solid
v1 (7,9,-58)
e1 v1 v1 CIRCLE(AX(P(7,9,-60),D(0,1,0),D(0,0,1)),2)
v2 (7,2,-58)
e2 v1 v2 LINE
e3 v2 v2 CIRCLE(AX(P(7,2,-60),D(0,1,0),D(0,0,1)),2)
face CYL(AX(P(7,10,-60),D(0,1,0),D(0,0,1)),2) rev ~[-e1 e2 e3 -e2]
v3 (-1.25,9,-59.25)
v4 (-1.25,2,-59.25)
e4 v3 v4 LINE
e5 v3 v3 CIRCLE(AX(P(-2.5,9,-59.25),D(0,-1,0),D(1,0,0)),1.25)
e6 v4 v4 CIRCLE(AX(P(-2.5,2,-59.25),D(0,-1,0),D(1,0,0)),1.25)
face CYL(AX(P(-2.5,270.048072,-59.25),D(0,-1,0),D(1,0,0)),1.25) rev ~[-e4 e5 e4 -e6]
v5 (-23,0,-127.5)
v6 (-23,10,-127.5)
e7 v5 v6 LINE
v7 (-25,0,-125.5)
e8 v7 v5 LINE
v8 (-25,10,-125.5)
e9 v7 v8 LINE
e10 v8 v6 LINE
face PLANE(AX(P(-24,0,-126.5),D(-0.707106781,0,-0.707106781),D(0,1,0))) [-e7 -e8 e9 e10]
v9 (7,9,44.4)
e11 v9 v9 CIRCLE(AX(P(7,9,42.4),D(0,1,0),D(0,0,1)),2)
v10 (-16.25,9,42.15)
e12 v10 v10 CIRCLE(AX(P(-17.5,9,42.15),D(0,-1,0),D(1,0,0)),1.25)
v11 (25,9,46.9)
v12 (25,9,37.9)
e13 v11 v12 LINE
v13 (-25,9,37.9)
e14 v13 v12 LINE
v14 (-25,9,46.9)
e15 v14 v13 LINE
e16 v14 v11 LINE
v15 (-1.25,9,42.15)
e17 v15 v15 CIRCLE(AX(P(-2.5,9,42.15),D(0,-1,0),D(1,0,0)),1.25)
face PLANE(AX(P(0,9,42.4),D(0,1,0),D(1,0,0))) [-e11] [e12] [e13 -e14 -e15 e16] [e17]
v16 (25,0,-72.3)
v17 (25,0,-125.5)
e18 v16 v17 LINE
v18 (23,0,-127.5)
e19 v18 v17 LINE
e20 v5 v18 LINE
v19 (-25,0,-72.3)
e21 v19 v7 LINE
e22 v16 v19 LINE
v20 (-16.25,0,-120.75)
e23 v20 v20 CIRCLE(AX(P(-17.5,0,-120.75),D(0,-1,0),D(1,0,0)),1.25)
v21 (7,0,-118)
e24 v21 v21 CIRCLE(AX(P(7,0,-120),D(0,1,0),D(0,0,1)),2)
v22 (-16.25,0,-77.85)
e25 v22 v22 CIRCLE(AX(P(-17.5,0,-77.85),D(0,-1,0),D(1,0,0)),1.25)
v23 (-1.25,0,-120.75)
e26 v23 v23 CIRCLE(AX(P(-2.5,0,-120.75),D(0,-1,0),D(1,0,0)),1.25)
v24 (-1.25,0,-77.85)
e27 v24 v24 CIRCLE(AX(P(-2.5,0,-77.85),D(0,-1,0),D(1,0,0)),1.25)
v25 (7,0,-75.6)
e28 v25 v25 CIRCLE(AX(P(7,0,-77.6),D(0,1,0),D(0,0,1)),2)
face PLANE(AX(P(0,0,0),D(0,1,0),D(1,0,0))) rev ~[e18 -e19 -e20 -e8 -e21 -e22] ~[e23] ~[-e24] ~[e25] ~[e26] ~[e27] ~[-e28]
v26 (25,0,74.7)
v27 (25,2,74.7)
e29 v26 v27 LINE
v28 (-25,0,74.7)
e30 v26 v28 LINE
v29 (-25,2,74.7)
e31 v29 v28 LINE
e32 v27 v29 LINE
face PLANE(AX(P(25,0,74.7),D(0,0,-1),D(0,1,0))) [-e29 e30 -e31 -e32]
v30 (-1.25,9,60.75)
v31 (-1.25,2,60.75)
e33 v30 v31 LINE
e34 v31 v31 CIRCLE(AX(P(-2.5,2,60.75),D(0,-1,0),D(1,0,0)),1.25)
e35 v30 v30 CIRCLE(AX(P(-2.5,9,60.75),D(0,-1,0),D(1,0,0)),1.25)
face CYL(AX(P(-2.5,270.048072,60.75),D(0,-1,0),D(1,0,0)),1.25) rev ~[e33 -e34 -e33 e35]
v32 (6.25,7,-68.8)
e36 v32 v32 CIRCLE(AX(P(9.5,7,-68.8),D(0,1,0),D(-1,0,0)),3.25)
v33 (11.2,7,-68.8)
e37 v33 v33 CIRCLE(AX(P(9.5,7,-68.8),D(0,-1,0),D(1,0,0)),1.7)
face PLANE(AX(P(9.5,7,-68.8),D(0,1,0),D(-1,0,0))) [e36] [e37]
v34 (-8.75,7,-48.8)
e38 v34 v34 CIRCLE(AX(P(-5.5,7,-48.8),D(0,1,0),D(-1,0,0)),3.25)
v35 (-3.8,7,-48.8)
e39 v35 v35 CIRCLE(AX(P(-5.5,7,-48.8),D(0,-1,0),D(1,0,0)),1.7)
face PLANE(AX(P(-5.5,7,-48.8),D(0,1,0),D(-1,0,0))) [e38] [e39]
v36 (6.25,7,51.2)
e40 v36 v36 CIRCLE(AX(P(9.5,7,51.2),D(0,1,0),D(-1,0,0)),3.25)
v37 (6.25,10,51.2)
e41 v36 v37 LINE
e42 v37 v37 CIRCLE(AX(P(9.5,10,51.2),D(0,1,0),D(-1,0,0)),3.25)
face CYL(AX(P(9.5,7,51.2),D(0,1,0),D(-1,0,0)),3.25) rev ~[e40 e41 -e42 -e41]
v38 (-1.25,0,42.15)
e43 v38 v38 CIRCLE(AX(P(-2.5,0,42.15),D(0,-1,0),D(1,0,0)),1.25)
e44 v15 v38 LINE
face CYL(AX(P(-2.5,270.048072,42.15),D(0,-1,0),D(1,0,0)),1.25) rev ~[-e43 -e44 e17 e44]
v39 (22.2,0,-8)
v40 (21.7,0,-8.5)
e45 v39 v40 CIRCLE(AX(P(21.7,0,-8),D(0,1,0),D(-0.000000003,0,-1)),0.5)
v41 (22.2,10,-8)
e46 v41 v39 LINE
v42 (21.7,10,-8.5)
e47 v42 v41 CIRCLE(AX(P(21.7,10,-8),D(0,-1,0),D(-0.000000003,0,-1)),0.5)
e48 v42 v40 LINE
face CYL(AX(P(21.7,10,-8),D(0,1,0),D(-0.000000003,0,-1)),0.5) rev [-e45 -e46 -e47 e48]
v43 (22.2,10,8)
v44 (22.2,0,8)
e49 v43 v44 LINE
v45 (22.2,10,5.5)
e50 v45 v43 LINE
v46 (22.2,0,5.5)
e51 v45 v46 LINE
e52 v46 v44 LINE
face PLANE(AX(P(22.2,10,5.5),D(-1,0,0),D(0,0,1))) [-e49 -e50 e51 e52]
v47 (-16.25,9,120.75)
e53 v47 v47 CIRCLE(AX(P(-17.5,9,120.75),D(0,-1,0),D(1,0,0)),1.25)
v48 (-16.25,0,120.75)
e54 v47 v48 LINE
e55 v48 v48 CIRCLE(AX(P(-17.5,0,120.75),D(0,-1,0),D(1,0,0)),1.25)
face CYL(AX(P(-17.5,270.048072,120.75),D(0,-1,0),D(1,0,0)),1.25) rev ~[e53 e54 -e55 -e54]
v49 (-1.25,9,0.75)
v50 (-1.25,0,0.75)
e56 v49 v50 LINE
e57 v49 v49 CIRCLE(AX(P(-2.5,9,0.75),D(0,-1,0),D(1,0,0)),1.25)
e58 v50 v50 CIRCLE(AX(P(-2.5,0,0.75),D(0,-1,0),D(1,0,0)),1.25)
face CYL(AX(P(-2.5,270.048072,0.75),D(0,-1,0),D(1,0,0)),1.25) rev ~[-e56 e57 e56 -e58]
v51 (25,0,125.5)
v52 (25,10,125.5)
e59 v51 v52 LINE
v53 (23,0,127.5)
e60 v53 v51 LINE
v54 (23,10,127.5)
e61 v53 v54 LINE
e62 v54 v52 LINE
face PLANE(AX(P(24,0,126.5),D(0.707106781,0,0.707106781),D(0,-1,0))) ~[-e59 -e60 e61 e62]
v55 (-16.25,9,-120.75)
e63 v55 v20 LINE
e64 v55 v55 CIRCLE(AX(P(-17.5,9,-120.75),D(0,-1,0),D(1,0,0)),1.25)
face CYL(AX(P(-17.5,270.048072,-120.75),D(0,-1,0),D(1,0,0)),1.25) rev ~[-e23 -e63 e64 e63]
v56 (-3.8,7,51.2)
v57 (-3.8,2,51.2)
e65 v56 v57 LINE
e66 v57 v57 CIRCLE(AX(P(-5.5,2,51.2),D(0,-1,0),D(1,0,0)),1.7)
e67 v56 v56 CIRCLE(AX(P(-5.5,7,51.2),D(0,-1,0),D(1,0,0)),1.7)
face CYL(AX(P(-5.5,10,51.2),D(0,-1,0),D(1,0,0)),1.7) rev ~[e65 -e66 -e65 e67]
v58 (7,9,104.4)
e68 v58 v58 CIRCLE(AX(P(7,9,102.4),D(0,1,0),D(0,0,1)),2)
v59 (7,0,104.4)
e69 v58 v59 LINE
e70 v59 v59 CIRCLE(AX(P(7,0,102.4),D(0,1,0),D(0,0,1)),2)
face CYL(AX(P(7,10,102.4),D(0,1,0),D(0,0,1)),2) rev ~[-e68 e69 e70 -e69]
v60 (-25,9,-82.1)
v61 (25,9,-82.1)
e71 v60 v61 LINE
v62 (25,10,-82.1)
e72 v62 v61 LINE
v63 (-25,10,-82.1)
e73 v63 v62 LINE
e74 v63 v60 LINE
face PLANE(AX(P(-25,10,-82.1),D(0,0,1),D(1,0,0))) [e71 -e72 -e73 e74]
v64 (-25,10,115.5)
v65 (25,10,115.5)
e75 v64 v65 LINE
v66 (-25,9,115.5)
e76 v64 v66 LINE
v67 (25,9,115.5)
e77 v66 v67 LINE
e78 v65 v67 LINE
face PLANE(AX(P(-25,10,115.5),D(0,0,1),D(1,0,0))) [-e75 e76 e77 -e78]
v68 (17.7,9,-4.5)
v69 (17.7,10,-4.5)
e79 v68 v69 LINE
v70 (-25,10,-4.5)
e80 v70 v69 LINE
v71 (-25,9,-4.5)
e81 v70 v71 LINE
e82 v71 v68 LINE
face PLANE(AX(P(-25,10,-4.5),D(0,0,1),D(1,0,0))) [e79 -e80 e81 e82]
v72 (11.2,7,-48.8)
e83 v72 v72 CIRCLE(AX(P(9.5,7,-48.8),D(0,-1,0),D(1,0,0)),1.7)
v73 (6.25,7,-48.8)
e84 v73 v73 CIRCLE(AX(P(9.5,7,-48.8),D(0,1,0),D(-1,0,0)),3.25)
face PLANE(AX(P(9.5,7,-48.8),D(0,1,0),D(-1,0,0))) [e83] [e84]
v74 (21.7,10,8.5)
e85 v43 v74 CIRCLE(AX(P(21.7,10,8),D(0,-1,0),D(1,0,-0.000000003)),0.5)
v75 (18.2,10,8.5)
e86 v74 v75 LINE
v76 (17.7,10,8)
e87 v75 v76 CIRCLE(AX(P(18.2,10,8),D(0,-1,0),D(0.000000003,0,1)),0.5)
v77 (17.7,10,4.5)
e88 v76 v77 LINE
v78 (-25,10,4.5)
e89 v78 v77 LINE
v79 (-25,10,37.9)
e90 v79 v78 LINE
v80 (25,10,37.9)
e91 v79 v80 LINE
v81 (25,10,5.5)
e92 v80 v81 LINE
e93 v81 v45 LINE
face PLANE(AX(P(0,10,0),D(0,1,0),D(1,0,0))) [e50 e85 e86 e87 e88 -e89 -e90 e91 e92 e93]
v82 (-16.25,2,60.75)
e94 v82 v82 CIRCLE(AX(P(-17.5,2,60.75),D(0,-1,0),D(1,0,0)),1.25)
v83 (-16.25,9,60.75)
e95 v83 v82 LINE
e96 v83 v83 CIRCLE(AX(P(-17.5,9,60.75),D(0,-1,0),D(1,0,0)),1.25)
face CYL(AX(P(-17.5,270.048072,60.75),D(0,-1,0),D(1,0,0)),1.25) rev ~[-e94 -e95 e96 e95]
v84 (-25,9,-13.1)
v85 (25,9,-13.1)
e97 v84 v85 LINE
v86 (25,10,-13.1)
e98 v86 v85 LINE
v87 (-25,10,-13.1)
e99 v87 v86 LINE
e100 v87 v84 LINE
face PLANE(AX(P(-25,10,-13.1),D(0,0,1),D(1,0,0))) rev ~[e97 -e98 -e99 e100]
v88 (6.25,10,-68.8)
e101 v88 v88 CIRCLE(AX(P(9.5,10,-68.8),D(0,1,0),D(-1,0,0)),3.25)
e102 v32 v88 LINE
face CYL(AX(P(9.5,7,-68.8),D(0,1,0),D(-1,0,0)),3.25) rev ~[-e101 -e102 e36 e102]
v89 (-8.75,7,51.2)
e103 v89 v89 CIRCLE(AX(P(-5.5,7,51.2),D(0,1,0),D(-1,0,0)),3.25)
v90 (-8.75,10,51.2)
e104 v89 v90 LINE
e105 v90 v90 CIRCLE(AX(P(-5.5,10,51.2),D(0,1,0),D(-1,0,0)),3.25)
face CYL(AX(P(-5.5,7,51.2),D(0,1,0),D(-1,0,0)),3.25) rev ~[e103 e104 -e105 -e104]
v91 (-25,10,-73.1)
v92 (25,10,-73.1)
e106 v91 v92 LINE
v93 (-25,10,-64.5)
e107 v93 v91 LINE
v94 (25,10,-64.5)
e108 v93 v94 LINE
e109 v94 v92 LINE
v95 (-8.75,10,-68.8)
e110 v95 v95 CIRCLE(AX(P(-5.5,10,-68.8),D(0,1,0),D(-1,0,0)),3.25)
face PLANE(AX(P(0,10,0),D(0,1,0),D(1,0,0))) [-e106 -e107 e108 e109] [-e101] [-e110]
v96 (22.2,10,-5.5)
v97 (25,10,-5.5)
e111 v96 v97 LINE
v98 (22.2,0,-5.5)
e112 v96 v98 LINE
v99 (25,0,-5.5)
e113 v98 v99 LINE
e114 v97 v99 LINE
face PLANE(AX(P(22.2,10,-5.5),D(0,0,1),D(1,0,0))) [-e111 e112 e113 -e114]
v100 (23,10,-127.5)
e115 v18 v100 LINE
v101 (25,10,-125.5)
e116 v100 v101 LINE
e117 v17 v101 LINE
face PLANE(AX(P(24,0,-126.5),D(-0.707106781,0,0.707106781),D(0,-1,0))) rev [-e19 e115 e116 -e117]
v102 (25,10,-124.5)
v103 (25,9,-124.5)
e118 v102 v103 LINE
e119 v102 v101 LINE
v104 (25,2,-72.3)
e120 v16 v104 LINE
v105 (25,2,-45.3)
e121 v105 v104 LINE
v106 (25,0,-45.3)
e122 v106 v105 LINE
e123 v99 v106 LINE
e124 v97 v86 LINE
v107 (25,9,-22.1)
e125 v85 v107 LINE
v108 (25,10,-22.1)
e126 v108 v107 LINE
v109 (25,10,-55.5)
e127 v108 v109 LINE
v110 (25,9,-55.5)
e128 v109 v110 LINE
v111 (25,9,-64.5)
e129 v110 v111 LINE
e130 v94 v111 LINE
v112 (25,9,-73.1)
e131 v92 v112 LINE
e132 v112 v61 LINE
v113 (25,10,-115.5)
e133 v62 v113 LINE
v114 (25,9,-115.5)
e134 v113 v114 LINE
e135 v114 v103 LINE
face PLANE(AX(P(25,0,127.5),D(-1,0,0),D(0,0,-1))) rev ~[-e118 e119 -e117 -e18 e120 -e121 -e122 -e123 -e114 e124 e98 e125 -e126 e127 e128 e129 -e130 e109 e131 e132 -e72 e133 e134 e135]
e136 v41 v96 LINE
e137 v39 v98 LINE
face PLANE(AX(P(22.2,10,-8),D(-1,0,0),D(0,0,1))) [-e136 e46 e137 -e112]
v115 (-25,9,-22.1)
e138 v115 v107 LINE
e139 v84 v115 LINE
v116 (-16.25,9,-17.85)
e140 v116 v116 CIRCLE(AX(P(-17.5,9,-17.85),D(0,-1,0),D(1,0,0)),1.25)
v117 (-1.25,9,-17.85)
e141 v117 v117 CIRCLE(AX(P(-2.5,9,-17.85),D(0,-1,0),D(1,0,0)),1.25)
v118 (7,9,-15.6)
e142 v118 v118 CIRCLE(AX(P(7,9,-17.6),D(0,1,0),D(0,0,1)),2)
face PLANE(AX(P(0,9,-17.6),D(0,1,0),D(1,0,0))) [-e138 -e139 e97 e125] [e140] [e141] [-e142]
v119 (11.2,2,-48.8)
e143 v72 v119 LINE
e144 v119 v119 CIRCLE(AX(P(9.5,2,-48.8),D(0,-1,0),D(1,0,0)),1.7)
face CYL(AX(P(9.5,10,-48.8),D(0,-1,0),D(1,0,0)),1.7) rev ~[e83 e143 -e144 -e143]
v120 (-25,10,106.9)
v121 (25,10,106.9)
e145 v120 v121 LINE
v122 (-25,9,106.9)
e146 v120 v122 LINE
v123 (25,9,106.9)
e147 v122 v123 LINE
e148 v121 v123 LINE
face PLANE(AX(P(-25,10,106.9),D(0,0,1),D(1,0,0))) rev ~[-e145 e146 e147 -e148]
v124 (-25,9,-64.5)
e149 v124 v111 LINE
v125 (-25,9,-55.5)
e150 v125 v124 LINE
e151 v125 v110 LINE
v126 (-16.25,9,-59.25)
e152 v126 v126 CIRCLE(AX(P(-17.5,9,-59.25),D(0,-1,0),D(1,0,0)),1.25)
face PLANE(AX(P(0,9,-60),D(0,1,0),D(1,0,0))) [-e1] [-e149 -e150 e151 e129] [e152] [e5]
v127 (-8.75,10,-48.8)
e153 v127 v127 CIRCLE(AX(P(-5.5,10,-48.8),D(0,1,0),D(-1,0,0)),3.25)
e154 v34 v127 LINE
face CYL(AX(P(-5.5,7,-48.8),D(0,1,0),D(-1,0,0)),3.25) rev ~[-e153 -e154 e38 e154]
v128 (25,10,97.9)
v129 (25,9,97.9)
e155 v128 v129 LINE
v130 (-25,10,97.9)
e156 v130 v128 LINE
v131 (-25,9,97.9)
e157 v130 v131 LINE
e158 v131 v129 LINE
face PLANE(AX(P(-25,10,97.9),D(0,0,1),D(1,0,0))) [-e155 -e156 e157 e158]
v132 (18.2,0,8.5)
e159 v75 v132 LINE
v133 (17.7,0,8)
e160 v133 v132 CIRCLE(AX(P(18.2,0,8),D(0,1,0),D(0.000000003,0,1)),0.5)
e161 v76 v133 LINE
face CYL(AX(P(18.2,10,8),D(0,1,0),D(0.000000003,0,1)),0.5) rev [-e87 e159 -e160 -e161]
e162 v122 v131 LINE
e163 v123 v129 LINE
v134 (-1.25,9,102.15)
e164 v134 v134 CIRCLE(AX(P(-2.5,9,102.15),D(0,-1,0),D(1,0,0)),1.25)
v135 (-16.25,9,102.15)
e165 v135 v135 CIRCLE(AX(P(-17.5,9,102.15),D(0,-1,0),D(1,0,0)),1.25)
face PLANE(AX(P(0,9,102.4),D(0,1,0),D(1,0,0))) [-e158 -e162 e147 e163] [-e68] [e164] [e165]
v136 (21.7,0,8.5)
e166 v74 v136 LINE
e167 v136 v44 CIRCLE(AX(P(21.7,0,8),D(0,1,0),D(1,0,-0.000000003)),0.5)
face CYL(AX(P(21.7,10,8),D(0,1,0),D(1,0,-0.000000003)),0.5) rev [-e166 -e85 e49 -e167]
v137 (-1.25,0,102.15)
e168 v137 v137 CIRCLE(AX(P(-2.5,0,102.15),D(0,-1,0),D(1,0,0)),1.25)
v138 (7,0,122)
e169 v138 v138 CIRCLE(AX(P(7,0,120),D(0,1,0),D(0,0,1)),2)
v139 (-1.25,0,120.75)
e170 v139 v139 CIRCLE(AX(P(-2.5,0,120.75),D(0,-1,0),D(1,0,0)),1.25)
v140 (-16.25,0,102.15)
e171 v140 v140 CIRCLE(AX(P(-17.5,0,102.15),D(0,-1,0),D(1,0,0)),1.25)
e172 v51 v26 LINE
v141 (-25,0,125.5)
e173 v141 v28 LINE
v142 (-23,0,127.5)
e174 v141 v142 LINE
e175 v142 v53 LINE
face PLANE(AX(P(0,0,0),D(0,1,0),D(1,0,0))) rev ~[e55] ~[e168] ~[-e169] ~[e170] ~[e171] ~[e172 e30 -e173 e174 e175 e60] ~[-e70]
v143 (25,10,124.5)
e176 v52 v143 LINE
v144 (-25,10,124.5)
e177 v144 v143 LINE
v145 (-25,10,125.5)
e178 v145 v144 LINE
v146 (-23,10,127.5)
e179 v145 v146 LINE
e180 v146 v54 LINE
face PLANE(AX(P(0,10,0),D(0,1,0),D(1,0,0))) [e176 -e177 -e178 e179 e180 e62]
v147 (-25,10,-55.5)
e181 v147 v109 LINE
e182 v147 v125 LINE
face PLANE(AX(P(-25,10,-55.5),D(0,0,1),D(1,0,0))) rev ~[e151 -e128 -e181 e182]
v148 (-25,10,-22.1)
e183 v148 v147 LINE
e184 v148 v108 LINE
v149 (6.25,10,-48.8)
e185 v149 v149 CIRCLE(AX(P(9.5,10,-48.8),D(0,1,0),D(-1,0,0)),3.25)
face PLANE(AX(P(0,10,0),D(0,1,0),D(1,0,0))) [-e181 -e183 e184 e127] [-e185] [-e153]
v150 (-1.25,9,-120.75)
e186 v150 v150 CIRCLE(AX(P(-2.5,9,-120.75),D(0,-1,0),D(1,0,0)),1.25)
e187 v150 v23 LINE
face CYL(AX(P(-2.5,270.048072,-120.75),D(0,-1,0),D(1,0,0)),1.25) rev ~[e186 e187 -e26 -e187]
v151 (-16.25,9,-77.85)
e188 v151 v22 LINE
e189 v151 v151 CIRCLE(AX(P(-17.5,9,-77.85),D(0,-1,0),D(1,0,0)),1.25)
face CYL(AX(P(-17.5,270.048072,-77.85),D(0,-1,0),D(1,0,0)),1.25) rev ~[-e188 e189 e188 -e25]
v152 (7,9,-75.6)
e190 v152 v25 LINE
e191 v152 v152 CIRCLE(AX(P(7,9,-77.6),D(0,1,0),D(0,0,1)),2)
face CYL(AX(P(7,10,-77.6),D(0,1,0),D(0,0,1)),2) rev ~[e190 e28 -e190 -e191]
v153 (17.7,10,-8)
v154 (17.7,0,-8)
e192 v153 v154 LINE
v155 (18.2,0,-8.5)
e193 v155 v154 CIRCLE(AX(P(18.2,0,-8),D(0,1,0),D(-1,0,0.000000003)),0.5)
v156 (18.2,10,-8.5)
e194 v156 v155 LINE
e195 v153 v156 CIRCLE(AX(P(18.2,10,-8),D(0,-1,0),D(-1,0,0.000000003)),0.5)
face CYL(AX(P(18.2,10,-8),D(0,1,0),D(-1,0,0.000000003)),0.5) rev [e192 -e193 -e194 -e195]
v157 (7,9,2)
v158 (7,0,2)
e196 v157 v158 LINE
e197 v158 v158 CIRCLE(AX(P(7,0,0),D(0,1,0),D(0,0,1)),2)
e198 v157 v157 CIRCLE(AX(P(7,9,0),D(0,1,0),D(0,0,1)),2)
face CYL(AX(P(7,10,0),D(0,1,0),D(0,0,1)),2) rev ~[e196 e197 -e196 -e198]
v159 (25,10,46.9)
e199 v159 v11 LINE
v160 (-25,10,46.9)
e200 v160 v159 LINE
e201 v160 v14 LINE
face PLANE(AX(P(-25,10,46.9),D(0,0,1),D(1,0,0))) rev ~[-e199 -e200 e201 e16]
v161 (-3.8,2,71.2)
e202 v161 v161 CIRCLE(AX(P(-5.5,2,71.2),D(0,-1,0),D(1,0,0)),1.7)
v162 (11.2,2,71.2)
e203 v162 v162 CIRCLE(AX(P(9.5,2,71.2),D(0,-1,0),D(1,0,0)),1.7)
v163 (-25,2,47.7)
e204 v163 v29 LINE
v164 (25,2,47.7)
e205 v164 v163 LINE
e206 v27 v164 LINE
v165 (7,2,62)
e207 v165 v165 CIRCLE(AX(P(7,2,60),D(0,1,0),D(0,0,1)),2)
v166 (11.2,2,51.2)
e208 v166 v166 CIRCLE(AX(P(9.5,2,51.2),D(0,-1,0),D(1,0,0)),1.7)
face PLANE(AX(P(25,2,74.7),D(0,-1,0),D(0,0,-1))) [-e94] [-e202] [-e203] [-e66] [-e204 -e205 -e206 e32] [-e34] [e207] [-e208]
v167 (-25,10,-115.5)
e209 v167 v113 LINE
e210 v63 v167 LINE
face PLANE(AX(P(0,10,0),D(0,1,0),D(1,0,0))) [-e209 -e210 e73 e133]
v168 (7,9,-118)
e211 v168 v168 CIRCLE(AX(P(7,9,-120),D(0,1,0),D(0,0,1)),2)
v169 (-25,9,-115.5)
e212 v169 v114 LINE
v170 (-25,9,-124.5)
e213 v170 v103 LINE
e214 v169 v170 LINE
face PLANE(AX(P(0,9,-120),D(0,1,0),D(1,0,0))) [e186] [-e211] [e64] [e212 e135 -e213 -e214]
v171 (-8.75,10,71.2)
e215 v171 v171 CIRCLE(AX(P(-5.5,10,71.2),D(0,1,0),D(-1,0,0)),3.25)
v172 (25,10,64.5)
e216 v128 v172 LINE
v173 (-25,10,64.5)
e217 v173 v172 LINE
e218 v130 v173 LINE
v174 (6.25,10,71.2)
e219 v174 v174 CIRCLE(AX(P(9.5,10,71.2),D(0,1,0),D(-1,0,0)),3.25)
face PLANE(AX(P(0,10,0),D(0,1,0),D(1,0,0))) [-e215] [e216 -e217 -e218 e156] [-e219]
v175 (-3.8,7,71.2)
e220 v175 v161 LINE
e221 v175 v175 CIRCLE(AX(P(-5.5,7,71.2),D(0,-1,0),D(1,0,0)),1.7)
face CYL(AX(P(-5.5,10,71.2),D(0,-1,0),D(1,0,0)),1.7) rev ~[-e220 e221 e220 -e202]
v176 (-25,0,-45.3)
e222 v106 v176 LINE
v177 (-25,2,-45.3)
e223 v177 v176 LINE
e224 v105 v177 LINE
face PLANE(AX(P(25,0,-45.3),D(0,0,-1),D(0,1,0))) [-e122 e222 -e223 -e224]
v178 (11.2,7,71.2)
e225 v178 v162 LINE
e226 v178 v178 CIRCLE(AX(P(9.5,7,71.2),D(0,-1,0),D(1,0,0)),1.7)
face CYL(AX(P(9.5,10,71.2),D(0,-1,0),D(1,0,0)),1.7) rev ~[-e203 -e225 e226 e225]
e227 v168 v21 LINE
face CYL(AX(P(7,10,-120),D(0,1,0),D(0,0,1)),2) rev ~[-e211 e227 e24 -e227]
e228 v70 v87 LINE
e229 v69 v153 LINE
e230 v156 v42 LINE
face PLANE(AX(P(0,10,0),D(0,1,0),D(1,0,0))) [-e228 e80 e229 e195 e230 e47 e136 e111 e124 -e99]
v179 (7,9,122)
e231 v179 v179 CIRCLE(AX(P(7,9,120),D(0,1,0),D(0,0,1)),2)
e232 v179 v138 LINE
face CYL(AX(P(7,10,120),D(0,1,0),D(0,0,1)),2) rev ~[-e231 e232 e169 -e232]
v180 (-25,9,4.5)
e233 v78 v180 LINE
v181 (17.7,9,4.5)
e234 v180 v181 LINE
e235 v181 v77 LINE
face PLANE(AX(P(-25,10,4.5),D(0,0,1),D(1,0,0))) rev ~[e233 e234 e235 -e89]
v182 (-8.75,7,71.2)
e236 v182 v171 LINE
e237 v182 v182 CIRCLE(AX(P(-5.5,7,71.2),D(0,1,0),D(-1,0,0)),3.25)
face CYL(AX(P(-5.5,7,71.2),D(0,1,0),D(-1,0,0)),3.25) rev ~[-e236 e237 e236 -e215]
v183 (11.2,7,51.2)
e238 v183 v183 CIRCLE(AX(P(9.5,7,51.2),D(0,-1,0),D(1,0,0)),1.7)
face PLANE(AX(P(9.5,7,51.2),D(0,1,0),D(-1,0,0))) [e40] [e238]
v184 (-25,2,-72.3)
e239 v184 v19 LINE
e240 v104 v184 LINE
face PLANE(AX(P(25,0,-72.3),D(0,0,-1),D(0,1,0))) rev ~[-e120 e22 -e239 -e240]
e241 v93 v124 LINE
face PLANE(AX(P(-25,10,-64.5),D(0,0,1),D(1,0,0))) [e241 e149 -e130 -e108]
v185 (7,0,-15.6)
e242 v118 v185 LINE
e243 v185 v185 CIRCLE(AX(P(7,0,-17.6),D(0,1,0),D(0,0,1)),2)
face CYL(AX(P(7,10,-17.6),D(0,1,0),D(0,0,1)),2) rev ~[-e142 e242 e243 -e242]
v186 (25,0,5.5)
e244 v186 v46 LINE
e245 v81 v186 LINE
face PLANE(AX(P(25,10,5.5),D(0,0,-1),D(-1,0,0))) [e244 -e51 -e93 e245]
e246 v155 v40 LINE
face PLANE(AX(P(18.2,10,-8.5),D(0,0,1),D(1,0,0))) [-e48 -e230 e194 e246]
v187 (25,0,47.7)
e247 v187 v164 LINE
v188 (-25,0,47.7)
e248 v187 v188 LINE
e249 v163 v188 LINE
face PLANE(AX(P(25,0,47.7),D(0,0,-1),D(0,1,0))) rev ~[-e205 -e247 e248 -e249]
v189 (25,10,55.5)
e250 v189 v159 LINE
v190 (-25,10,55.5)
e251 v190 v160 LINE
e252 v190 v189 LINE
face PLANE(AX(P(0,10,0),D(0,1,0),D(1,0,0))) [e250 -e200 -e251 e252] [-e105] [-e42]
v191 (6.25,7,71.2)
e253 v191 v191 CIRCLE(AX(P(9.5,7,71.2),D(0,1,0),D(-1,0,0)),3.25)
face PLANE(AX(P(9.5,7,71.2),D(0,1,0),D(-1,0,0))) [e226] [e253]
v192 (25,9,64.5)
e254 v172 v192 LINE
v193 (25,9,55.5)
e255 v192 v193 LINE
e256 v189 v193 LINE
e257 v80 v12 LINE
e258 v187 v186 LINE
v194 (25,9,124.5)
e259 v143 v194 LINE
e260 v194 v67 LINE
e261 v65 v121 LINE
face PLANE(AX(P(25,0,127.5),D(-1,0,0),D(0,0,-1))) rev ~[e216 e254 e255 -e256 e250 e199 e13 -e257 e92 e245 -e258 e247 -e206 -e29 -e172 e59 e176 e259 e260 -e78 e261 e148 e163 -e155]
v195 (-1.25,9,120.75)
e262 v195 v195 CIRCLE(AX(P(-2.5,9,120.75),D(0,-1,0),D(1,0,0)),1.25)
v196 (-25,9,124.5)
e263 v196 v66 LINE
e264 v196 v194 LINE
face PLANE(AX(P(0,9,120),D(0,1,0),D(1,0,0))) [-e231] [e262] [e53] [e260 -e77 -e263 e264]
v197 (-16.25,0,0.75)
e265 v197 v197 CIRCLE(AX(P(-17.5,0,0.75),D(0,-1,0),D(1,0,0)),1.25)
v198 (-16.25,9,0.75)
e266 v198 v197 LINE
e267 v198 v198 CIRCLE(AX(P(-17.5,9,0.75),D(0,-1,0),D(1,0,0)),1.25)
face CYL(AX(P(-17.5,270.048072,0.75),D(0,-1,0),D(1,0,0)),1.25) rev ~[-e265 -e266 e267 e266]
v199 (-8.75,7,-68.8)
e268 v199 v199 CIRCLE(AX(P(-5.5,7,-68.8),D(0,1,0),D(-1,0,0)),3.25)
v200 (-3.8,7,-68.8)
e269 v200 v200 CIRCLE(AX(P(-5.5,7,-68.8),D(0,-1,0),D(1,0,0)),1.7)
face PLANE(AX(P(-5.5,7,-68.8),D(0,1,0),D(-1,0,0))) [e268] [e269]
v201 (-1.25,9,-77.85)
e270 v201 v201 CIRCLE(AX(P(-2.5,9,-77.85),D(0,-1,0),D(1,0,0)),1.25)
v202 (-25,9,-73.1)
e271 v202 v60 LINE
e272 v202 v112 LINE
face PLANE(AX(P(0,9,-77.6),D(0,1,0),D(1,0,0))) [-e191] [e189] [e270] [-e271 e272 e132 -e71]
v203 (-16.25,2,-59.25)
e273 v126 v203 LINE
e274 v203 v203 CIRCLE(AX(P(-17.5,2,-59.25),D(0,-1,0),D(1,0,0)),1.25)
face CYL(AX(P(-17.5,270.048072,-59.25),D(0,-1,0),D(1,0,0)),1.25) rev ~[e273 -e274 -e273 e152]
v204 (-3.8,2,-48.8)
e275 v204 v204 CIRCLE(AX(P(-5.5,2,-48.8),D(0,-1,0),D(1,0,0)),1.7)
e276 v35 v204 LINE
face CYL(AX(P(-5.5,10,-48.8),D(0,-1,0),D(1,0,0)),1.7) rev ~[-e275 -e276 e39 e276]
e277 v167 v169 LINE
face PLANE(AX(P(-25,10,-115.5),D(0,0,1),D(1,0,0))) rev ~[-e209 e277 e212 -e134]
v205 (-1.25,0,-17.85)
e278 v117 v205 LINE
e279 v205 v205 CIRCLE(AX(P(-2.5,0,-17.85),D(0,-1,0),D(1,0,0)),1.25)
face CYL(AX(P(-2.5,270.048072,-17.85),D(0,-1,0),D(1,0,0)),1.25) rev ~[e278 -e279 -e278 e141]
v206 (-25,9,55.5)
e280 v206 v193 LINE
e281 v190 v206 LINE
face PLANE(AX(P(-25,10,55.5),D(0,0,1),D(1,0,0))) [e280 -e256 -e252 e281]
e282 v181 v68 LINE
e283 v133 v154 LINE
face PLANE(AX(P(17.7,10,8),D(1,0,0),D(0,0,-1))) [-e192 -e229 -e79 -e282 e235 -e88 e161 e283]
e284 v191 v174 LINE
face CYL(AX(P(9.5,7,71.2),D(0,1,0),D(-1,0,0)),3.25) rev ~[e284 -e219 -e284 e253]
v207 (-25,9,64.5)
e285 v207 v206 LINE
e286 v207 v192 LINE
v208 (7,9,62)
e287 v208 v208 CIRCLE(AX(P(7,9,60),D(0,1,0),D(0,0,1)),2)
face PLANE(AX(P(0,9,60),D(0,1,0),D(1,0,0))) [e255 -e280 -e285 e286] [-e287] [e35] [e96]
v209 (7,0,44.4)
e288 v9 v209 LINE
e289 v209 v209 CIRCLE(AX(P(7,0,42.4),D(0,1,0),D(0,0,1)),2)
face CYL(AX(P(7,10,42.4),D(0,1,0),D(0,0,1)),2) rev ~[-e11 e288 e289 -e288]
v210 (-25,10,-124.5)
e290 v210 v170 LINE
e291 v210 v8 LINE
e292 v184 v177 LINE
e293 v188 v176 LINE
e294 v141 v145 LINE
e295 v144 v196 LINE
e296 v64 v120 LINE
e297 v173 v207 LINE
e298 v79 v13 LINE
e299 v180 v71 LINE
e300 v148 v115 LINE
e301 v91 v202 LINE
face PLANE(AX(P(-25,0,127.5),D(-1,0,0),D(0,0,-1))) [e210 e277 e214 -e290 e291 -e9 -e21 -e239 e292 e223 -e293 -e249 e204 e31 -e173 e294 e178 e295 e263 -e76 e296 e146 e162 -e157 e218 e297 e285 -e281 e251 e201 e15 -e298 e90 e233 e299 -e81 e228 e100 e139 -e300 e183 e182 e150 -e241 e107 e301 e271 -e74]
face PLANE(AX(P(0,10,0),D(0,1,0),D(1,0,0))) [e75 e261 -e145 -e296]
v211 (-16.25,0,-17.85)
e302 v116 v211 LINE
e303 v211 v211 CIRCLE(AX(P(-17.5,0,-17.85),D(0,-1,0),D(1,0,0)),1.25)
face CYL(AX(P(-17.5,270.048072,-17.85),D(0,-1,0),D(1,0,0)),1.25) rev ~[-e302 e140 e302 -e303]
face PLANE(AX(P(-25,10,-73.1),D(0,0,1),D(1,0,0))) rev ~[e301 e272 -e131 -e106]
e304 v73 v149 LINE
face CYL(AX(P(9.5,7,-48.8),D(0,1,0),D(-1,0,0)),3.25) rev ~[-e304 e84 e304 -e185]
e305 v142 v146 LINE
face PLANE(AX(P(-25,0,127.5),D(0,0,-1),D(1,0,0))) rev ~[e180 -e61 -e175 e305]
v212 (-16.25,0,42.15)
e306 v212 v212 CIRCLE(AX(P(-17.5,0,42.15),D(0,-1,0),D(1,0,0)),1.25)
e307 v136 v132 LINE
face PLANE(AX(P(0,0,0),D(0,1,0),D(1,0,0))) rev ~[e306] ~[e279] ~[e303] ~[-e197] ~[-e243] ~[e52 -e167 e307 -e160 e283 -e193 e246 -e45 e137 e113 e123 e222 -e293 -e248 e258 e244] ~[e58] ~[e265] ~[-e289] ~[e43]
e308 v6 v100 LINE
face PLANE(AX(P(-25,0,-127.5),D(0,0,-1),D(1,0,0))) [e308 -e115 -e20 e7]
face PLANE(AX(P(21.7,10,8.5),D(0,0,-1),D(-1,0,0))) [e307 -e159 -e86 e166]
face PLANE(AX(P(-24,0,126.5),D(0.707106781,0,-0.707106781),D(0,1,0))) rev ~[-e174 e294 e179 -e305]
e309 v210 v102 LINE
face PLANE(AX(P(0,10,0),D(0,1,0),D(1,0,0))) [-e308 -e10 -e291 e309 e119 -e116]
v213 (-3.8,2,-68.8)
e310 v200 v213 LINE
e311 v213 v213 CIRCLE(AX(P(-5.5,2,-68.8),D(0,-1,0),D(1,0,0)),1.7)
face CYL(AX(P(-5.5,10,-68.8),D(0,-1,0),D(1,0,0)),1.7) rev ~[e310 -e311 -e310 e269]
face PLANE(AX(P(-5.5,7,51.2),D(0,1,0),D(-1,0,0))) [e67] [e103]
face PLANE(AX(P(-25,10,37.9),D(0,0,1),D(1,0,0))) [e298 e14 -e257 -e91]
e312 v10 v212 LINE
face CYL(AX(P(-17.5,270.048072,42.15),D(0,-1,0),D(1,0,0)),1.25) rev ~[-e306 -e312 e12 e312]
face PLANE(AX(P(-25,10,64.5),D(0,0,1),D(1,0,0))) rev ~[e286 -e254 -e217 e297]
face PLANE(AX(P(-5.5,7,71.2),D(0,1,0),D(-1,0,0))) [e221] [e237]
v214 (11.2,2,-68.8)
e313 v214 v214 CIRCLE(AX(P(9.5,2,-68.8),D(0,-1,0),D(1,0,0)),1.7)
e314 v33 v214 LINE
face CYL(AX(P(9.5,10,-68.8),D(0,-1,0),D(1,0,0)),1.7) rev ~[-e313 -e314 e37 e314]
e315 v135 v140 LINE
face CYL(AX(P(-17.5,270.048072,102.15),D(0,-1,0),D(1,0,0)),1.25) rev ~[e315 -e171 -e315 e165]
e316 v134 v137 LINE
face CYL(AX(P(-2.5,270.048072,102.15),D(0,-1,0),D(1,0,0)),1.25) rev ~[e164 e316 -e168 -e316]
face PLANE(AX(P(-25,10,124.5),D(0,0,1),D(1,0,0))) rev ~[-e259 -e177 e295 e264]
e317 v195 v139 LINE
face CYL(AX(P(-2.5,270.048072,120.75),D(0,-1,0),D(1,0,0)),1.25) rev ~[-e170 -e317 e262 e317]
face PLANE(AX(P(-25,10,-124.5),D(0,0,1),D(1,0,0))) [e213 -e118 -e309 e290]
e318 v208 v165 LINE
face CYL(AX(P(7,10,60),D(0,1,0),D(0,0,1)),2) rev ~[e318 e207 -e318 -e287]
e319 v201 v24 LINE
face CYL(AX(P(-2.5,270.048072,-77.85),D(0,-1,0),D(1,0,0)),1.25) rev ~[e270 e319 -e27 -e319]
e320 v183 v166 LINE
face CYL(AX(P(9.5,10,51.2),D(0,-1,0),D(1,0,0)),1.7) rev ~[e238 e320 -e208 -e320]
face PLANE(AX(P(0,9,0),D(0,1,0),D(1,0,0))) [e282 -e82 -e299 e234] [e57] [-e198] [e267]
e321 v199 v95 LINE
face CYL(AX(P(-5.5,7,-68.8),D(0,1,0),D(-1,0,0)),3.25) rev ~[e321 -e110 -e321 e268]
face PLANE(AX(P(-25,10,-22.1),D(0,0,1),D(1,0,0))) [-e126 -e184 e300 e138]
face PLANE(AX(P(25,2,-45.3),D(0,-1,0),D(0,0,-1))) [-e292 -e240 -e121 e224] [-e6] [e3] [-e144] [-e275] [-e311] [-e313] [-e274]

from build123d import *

# Parameters (mm, degrees)
SKETCH_1_W                          = 50
SKETCH_1_H                          = 255
EXTRUDE_1_DEPTH                     = 10
SKETCH_2_W                          = 50
SKETCH_2_H                          = 9
CUT_EXTRUDE_1_DEPTH                 = 1
PATTERN_LINEAR_1_COUNT              = 5
PATTERN_LINEAR_1_PITCH              = 60
HOLE_WIZARD_M3_1_D                  = 3.4
HOLE_WIZARD_M3_1_CBORE_D            = 6.5
HOLE_WIZARD_M3_1_CBORE_DEPTH        = 3
PATTERN_LINEAR_2_COUNT              = 2
PATTERN_LINEAR_2_PITCH              = 15
PATTERN_LINEAR_3_COPY_1_D           = 3.4
PATTERN_LINEAR_3_COPY_1_CBORE_D     = 6.5
PATTERN_LINEAR_3_COPY_1_CBORE_DEPTH = 3
PATTERN_LINEAR_3_COPY_2_D           = 3.4
PATTERN_LINEAR_3_COPY_2_CBORE_D     = 6.5
PATTERN_LINEAR_3_COPY_2_CBORE_DEPTH = 3
PATTERN_LINEAR_4_COUNT              = 2
PATTERN_LINEAR_4_PITCH              = 20
PATTERN_LINEAR_4_COPY_1_D           = 3.4
PATTERN_LINEAR_4_COPY_1_CBORE_D     = 6.5
PATTERN_LINEAR_4_COPY_1_CBORE_DEPTH = 3
PATTERN_LINEAR_4_COPY_2_D           = 3.4
PATTERN_LINEAR_4_COPY_2_CBORE_D     = 6.5
PATTERN_LINEAR_4_COPY_2_CBORE_DEPTH = 3
PATTERN_LINEAR_4_COPY_3_D           = 3.4
PATTERN_LINEAR_4_COPY_3_CBORE_D     = 6.5
PATTERN_LINEAR_4_COPY_3_CBORE_DEPTH = 3
SKETCH_6_W                          = 27
SKETCH_6_H                          = 2
CUT_EXTRUDE_2_DEPTH                 = 138.318061449
PATTERN_LINEAR_5_COUNT              = 2
PATTERN_LINEAR_5_PITCH              = 120
CUT_EXTRUDE_3_DEPTH                 = 131.312125299
CHAMFER_1_SIZE                      = 2
HOLE_WIZARD_M3_1_2_D                = 2.5
SKETCH_10_R                         = 2
CUT_EXTRUDE_4_DEPTH                 = 131.312125299


with BuildPart() as part:
    # 草图1 → 凸台-拉伸1 (new body)
    with BuildSketch(Plane(origin=(0, 0, 0), x_dir=(1, 0, 0), z_dir=(0, 1, 0))):
        Rectangle(SKETCH_1_W, SKETCH_1_H)
    extrude(amount=EXTRUDE_1_DEPTH)

    # 草图2 → 切除-拉伸1 (cut)
    with BuildSketch(Plane(origin=(0, 10, 0), x_dir=(1, 0, 0), z_dir=(0, 1, 0))):
        with Locations((0, -120)):
            Rectangle(SKETCH_2_W, SKETCH_2_H)
        with Locations((0, -102.4)):
            Rectangle(SKETCH_2_W, SKETCH_2_H)
    cut_extrude_1 = extrude(amount=-CUT_EXTRUDE_1_DEPTH, mode=Mode.SUBTRACT)

    # 阵列(线性)1: 切除-拉伸1 ×5
    with Locations(*[(0, 0, -i * PATTERN_LINEAR_1_PITCH) for i in range(1, PATTERN_LINEAR_1_COUNT)]):
        add(cut_extrude_1, mode=Mode.SUBTRACT)

    # Hole Wizard M3 _1 (through all)
    with Locations(Plane(origin=(0, 10, 0), x_dir=(-1, 0, 0), z_dir=(0, 1, 0))):
        with Locations((5.5, 51.2)):
            hole_wizard_m3_1 = CounterBoreHole(HOLE_WIZARD_M3_1_D / 2, HOLE_WIZARD_M3_1_CBORE_D / 2, HOLE_WIZARD_M3_1_CBORE_DEPTH)

    # 阵列(线性)2: Hole Wizard M3 _1 ×2
    with Locations(*[(i * PATTERN_LINEAR_2_PITCH, 0, 0) for i in range(1, PATTERN_LINEAR_2_COUNT)]):
        add(hole_wizard_m3_1, mode=Mode.SUBTRACT)

    # 阵列(线性)3 copy 1 (through all)
    with Locations(Plane(origin=(15, 10, -120), x_dir=(-1, 0, 0), z_dir=(0, 1, 0))):
        with Locations((5.5, 51.2)):
            CounterBoreHole(PATTERN_LINEAR_3_COPY_1_D / 2, PATTERN_LINEAR_3_COPY_1_CBORE_D / 2, PATTERN_LINEAR_3_COPY_1_CBORE_DEPTH)

    # 阵列(线性)3 copy 2 (through all)
    with Locations(Plane(origin=(0, 10, -120), x_dir=(-1, 0, 0), z_dir=(0, 1, 0))):
        with Locations((5.5, 51.2)):
            CounterBoreHole(PATTERN_LINEAR_3_COPY_2_D / 2, PATTERN_LINEAR_3_COPY_2_CBORE_D / 2, PATTERN_LINEAR_3_COPY_2_CBORE_DEPTH)

    # 阵列(线性)4: Hole Wizard M3 _1 ×2
    with Locations(*[(0, 0, i * PATTERN_LINEAR_4_PITCH) for i in range(1, PATTERN_LINEAR_4_COUNT)]):
        add(hole_wizard_m3_1, mode=Mode.SUBTRACT)

    # 阵列(线性)4 copy 1 (through all)
    with Locations(Plane(origin=(15, 10, 20), x_dir=(-1, 0, 0), z_dir=(0, 1, 0))):
        with Locations((5.5, 51.2)):
            CounterBoreHole(PATTERN_LINEAR_4_COPY_1_D / 2, PATTERN_LINEAR_4_COPY_1_CBORE_D / 2, PATTERN_LINEAR_4_COPY_1_CBORE_DEPTH)

    # 阵列(线性)4 copy 2 (through all)
    with Locations(Plane(origin=(15, 10, -100), x_dir=(-1, 0, 0), z_dir=(0, 1, 0))):
        with Locations((5.5, 51.2)):
            CounterBoreHole(PATTERN_LINEAR_4_COPY_2_D / 2, PATTERN_LINEAR_4_COPY_2_CBORE_D / 2, PATTERN_LINEAR_4_COPY_2_CBORE_DEPTH)

    # 阵列(线性)4 copy 3 (through all)
    with Locations(Plane(origin=(0, 10, -100), x_dir=(-1, 0, 0), z_dir=(0, 1, 0))):
        with Locations((5.5, 51.2)):
            CounterBoreHole(PATTERN_LINEAR_4_COPY_3_D / 2, PATTERN_LINEAR_4_COPY_3_CBORE_D / 2, PATTERN_LINEAR_4_COPY_3_CBORE_DEPTH)

    # 草图6 → 切除-拉伸2 (cut, through all)
    with BuildSketch(Plane(origin=(25, 0, 0), x_dir=(0, 0, -1), z_dir=(1, 0, 0))):
        with Locations((-61.2, 1)):
            Rectangle(SKETCH_6_W, SKETCH_6_H)
    cut_extrude_2 = extrude(amount=-CUT_EXTRUDE_2_DEPTH, mode=Mode.SUBTRACT)

    # 阵列(线性)5: 切除-拉伸2 ×2
    with Locations(*[(0, 0, -i * PATTERN_LINEAR_5_PITCH) for i in range(1, PATTERN_LINEAR_5_COUNT)]):
        add(cut_extrude_2, mode=Mode.SUBTRACT)

    # 草图7 → 切除-拉伸3 (cut, through all)
    with BuildSketch(Plane(origin=(0, 10, 0), x_dir=(1, 0, 0), z_dir=(0, 1, 0))):
        with BuildLine():
            Line((25, -5.5), (22.2, -5.5))
            Line((22.2, -5.5), (22.2, -8))
            ThreePointArc((22.2, -8), (22.053553391, -8.353553391), (21.7, -8.5))
            Line((21.7, -8.5), (18.2, -8.5))
            ThreePointArc((18.2, -8.5), (17.846446609, -8.353553391), (17.7, -8))
            Line((17.7, -8), (17.7, 8))
            ThreePointArc((17.7, 8), (17.846446609, 8.353553391), (18.2, 8.5))
            Line((18.2, 8.5), (21.7, 8.5))
            ThreePointArc((21.7, 8.5), (22.053553391, 8.353553391), (22.2, 8))
            Line((22.2, 8), (22.2, 5.5))
            Line((22.2, 5.5), (25, 5.5))
            Line((25, 5.5), (25, -5.5))
        make_face()
    extrude(amount=-CUT_EXTRUDE_3_DEPTH, mode=Mode.SUBTRACT)

    # 倒角1
    chamfer_1_edges = [part.edges().sort_by_distance(p)[0] for p in [
        (-25, 5, -127.5),
        (25, 5, -127.5),
        (-25, 5, 127.5),
        (25, 5, 127.5),
    ]]
    chamfer(chamfer_1_edges, length=CHAMFER_1_SIZE)

    # Hole Wizard M3 _1 2 (through all)
    with Locations(Plane(origin=(0, 10, 0), x_dir=(-1, 0, 0), z_dir=(0, 1, 0))):
        with Locations((17.5, 120.75), (17.5, 102.15), (2.5, 120.75), (2.5, 102.15), (17.5, 60.75), (2.5, 60.75), (2.5, 42.15), (17.5, 42.15), (17.5, 0.75), (2.5, 0.75), (2.5, -17.85), (17.5, -17.85), (17.5, -59.25), (2.5, -59.25), (2.5, -77.85), (17.5, -77.85), (17.5, -120.75), (2.5, -120.75)):
            Hole(HOLE_WIZARD_M3_1_2_D / 2)

    # 草图10 → 切除-拉伸4 (cut, through all)
    with BuildSketch(Plane(origin=(0, 10, 0), x_dir=(1, 0, 0), z_dir=(0, 1, 0))):
        with Locations((7, 120)):
            Circle(SKETCH_10_R)
        with Locations((7, 77.6)):
            Circle(SKETCH_10_R)
        with Locations((7, 60)):
            Circle(SKETCH_10_R)
        with Locations((7, 17.6)):
            Circle(SKETCH_10_R)
        with Locations((7, 0)):
            Circle(SKETCH_10_R)
        with Locations((7, -42.4)):
            Circle(SKETCH_10_R)
        with Locations((7, -60)):
            Circle(SKETCH_10_R)
        with Locations((7, -102.4)):
            Circle(SKETCH_10_R)
        with Locations((7, -120)):
            Circle(SKETCH_10_R)
    extrude(amount=-CUT_EXTRUDE_4_DEPTH, mode=Mode.SUBTRACT)


solid = part.part
